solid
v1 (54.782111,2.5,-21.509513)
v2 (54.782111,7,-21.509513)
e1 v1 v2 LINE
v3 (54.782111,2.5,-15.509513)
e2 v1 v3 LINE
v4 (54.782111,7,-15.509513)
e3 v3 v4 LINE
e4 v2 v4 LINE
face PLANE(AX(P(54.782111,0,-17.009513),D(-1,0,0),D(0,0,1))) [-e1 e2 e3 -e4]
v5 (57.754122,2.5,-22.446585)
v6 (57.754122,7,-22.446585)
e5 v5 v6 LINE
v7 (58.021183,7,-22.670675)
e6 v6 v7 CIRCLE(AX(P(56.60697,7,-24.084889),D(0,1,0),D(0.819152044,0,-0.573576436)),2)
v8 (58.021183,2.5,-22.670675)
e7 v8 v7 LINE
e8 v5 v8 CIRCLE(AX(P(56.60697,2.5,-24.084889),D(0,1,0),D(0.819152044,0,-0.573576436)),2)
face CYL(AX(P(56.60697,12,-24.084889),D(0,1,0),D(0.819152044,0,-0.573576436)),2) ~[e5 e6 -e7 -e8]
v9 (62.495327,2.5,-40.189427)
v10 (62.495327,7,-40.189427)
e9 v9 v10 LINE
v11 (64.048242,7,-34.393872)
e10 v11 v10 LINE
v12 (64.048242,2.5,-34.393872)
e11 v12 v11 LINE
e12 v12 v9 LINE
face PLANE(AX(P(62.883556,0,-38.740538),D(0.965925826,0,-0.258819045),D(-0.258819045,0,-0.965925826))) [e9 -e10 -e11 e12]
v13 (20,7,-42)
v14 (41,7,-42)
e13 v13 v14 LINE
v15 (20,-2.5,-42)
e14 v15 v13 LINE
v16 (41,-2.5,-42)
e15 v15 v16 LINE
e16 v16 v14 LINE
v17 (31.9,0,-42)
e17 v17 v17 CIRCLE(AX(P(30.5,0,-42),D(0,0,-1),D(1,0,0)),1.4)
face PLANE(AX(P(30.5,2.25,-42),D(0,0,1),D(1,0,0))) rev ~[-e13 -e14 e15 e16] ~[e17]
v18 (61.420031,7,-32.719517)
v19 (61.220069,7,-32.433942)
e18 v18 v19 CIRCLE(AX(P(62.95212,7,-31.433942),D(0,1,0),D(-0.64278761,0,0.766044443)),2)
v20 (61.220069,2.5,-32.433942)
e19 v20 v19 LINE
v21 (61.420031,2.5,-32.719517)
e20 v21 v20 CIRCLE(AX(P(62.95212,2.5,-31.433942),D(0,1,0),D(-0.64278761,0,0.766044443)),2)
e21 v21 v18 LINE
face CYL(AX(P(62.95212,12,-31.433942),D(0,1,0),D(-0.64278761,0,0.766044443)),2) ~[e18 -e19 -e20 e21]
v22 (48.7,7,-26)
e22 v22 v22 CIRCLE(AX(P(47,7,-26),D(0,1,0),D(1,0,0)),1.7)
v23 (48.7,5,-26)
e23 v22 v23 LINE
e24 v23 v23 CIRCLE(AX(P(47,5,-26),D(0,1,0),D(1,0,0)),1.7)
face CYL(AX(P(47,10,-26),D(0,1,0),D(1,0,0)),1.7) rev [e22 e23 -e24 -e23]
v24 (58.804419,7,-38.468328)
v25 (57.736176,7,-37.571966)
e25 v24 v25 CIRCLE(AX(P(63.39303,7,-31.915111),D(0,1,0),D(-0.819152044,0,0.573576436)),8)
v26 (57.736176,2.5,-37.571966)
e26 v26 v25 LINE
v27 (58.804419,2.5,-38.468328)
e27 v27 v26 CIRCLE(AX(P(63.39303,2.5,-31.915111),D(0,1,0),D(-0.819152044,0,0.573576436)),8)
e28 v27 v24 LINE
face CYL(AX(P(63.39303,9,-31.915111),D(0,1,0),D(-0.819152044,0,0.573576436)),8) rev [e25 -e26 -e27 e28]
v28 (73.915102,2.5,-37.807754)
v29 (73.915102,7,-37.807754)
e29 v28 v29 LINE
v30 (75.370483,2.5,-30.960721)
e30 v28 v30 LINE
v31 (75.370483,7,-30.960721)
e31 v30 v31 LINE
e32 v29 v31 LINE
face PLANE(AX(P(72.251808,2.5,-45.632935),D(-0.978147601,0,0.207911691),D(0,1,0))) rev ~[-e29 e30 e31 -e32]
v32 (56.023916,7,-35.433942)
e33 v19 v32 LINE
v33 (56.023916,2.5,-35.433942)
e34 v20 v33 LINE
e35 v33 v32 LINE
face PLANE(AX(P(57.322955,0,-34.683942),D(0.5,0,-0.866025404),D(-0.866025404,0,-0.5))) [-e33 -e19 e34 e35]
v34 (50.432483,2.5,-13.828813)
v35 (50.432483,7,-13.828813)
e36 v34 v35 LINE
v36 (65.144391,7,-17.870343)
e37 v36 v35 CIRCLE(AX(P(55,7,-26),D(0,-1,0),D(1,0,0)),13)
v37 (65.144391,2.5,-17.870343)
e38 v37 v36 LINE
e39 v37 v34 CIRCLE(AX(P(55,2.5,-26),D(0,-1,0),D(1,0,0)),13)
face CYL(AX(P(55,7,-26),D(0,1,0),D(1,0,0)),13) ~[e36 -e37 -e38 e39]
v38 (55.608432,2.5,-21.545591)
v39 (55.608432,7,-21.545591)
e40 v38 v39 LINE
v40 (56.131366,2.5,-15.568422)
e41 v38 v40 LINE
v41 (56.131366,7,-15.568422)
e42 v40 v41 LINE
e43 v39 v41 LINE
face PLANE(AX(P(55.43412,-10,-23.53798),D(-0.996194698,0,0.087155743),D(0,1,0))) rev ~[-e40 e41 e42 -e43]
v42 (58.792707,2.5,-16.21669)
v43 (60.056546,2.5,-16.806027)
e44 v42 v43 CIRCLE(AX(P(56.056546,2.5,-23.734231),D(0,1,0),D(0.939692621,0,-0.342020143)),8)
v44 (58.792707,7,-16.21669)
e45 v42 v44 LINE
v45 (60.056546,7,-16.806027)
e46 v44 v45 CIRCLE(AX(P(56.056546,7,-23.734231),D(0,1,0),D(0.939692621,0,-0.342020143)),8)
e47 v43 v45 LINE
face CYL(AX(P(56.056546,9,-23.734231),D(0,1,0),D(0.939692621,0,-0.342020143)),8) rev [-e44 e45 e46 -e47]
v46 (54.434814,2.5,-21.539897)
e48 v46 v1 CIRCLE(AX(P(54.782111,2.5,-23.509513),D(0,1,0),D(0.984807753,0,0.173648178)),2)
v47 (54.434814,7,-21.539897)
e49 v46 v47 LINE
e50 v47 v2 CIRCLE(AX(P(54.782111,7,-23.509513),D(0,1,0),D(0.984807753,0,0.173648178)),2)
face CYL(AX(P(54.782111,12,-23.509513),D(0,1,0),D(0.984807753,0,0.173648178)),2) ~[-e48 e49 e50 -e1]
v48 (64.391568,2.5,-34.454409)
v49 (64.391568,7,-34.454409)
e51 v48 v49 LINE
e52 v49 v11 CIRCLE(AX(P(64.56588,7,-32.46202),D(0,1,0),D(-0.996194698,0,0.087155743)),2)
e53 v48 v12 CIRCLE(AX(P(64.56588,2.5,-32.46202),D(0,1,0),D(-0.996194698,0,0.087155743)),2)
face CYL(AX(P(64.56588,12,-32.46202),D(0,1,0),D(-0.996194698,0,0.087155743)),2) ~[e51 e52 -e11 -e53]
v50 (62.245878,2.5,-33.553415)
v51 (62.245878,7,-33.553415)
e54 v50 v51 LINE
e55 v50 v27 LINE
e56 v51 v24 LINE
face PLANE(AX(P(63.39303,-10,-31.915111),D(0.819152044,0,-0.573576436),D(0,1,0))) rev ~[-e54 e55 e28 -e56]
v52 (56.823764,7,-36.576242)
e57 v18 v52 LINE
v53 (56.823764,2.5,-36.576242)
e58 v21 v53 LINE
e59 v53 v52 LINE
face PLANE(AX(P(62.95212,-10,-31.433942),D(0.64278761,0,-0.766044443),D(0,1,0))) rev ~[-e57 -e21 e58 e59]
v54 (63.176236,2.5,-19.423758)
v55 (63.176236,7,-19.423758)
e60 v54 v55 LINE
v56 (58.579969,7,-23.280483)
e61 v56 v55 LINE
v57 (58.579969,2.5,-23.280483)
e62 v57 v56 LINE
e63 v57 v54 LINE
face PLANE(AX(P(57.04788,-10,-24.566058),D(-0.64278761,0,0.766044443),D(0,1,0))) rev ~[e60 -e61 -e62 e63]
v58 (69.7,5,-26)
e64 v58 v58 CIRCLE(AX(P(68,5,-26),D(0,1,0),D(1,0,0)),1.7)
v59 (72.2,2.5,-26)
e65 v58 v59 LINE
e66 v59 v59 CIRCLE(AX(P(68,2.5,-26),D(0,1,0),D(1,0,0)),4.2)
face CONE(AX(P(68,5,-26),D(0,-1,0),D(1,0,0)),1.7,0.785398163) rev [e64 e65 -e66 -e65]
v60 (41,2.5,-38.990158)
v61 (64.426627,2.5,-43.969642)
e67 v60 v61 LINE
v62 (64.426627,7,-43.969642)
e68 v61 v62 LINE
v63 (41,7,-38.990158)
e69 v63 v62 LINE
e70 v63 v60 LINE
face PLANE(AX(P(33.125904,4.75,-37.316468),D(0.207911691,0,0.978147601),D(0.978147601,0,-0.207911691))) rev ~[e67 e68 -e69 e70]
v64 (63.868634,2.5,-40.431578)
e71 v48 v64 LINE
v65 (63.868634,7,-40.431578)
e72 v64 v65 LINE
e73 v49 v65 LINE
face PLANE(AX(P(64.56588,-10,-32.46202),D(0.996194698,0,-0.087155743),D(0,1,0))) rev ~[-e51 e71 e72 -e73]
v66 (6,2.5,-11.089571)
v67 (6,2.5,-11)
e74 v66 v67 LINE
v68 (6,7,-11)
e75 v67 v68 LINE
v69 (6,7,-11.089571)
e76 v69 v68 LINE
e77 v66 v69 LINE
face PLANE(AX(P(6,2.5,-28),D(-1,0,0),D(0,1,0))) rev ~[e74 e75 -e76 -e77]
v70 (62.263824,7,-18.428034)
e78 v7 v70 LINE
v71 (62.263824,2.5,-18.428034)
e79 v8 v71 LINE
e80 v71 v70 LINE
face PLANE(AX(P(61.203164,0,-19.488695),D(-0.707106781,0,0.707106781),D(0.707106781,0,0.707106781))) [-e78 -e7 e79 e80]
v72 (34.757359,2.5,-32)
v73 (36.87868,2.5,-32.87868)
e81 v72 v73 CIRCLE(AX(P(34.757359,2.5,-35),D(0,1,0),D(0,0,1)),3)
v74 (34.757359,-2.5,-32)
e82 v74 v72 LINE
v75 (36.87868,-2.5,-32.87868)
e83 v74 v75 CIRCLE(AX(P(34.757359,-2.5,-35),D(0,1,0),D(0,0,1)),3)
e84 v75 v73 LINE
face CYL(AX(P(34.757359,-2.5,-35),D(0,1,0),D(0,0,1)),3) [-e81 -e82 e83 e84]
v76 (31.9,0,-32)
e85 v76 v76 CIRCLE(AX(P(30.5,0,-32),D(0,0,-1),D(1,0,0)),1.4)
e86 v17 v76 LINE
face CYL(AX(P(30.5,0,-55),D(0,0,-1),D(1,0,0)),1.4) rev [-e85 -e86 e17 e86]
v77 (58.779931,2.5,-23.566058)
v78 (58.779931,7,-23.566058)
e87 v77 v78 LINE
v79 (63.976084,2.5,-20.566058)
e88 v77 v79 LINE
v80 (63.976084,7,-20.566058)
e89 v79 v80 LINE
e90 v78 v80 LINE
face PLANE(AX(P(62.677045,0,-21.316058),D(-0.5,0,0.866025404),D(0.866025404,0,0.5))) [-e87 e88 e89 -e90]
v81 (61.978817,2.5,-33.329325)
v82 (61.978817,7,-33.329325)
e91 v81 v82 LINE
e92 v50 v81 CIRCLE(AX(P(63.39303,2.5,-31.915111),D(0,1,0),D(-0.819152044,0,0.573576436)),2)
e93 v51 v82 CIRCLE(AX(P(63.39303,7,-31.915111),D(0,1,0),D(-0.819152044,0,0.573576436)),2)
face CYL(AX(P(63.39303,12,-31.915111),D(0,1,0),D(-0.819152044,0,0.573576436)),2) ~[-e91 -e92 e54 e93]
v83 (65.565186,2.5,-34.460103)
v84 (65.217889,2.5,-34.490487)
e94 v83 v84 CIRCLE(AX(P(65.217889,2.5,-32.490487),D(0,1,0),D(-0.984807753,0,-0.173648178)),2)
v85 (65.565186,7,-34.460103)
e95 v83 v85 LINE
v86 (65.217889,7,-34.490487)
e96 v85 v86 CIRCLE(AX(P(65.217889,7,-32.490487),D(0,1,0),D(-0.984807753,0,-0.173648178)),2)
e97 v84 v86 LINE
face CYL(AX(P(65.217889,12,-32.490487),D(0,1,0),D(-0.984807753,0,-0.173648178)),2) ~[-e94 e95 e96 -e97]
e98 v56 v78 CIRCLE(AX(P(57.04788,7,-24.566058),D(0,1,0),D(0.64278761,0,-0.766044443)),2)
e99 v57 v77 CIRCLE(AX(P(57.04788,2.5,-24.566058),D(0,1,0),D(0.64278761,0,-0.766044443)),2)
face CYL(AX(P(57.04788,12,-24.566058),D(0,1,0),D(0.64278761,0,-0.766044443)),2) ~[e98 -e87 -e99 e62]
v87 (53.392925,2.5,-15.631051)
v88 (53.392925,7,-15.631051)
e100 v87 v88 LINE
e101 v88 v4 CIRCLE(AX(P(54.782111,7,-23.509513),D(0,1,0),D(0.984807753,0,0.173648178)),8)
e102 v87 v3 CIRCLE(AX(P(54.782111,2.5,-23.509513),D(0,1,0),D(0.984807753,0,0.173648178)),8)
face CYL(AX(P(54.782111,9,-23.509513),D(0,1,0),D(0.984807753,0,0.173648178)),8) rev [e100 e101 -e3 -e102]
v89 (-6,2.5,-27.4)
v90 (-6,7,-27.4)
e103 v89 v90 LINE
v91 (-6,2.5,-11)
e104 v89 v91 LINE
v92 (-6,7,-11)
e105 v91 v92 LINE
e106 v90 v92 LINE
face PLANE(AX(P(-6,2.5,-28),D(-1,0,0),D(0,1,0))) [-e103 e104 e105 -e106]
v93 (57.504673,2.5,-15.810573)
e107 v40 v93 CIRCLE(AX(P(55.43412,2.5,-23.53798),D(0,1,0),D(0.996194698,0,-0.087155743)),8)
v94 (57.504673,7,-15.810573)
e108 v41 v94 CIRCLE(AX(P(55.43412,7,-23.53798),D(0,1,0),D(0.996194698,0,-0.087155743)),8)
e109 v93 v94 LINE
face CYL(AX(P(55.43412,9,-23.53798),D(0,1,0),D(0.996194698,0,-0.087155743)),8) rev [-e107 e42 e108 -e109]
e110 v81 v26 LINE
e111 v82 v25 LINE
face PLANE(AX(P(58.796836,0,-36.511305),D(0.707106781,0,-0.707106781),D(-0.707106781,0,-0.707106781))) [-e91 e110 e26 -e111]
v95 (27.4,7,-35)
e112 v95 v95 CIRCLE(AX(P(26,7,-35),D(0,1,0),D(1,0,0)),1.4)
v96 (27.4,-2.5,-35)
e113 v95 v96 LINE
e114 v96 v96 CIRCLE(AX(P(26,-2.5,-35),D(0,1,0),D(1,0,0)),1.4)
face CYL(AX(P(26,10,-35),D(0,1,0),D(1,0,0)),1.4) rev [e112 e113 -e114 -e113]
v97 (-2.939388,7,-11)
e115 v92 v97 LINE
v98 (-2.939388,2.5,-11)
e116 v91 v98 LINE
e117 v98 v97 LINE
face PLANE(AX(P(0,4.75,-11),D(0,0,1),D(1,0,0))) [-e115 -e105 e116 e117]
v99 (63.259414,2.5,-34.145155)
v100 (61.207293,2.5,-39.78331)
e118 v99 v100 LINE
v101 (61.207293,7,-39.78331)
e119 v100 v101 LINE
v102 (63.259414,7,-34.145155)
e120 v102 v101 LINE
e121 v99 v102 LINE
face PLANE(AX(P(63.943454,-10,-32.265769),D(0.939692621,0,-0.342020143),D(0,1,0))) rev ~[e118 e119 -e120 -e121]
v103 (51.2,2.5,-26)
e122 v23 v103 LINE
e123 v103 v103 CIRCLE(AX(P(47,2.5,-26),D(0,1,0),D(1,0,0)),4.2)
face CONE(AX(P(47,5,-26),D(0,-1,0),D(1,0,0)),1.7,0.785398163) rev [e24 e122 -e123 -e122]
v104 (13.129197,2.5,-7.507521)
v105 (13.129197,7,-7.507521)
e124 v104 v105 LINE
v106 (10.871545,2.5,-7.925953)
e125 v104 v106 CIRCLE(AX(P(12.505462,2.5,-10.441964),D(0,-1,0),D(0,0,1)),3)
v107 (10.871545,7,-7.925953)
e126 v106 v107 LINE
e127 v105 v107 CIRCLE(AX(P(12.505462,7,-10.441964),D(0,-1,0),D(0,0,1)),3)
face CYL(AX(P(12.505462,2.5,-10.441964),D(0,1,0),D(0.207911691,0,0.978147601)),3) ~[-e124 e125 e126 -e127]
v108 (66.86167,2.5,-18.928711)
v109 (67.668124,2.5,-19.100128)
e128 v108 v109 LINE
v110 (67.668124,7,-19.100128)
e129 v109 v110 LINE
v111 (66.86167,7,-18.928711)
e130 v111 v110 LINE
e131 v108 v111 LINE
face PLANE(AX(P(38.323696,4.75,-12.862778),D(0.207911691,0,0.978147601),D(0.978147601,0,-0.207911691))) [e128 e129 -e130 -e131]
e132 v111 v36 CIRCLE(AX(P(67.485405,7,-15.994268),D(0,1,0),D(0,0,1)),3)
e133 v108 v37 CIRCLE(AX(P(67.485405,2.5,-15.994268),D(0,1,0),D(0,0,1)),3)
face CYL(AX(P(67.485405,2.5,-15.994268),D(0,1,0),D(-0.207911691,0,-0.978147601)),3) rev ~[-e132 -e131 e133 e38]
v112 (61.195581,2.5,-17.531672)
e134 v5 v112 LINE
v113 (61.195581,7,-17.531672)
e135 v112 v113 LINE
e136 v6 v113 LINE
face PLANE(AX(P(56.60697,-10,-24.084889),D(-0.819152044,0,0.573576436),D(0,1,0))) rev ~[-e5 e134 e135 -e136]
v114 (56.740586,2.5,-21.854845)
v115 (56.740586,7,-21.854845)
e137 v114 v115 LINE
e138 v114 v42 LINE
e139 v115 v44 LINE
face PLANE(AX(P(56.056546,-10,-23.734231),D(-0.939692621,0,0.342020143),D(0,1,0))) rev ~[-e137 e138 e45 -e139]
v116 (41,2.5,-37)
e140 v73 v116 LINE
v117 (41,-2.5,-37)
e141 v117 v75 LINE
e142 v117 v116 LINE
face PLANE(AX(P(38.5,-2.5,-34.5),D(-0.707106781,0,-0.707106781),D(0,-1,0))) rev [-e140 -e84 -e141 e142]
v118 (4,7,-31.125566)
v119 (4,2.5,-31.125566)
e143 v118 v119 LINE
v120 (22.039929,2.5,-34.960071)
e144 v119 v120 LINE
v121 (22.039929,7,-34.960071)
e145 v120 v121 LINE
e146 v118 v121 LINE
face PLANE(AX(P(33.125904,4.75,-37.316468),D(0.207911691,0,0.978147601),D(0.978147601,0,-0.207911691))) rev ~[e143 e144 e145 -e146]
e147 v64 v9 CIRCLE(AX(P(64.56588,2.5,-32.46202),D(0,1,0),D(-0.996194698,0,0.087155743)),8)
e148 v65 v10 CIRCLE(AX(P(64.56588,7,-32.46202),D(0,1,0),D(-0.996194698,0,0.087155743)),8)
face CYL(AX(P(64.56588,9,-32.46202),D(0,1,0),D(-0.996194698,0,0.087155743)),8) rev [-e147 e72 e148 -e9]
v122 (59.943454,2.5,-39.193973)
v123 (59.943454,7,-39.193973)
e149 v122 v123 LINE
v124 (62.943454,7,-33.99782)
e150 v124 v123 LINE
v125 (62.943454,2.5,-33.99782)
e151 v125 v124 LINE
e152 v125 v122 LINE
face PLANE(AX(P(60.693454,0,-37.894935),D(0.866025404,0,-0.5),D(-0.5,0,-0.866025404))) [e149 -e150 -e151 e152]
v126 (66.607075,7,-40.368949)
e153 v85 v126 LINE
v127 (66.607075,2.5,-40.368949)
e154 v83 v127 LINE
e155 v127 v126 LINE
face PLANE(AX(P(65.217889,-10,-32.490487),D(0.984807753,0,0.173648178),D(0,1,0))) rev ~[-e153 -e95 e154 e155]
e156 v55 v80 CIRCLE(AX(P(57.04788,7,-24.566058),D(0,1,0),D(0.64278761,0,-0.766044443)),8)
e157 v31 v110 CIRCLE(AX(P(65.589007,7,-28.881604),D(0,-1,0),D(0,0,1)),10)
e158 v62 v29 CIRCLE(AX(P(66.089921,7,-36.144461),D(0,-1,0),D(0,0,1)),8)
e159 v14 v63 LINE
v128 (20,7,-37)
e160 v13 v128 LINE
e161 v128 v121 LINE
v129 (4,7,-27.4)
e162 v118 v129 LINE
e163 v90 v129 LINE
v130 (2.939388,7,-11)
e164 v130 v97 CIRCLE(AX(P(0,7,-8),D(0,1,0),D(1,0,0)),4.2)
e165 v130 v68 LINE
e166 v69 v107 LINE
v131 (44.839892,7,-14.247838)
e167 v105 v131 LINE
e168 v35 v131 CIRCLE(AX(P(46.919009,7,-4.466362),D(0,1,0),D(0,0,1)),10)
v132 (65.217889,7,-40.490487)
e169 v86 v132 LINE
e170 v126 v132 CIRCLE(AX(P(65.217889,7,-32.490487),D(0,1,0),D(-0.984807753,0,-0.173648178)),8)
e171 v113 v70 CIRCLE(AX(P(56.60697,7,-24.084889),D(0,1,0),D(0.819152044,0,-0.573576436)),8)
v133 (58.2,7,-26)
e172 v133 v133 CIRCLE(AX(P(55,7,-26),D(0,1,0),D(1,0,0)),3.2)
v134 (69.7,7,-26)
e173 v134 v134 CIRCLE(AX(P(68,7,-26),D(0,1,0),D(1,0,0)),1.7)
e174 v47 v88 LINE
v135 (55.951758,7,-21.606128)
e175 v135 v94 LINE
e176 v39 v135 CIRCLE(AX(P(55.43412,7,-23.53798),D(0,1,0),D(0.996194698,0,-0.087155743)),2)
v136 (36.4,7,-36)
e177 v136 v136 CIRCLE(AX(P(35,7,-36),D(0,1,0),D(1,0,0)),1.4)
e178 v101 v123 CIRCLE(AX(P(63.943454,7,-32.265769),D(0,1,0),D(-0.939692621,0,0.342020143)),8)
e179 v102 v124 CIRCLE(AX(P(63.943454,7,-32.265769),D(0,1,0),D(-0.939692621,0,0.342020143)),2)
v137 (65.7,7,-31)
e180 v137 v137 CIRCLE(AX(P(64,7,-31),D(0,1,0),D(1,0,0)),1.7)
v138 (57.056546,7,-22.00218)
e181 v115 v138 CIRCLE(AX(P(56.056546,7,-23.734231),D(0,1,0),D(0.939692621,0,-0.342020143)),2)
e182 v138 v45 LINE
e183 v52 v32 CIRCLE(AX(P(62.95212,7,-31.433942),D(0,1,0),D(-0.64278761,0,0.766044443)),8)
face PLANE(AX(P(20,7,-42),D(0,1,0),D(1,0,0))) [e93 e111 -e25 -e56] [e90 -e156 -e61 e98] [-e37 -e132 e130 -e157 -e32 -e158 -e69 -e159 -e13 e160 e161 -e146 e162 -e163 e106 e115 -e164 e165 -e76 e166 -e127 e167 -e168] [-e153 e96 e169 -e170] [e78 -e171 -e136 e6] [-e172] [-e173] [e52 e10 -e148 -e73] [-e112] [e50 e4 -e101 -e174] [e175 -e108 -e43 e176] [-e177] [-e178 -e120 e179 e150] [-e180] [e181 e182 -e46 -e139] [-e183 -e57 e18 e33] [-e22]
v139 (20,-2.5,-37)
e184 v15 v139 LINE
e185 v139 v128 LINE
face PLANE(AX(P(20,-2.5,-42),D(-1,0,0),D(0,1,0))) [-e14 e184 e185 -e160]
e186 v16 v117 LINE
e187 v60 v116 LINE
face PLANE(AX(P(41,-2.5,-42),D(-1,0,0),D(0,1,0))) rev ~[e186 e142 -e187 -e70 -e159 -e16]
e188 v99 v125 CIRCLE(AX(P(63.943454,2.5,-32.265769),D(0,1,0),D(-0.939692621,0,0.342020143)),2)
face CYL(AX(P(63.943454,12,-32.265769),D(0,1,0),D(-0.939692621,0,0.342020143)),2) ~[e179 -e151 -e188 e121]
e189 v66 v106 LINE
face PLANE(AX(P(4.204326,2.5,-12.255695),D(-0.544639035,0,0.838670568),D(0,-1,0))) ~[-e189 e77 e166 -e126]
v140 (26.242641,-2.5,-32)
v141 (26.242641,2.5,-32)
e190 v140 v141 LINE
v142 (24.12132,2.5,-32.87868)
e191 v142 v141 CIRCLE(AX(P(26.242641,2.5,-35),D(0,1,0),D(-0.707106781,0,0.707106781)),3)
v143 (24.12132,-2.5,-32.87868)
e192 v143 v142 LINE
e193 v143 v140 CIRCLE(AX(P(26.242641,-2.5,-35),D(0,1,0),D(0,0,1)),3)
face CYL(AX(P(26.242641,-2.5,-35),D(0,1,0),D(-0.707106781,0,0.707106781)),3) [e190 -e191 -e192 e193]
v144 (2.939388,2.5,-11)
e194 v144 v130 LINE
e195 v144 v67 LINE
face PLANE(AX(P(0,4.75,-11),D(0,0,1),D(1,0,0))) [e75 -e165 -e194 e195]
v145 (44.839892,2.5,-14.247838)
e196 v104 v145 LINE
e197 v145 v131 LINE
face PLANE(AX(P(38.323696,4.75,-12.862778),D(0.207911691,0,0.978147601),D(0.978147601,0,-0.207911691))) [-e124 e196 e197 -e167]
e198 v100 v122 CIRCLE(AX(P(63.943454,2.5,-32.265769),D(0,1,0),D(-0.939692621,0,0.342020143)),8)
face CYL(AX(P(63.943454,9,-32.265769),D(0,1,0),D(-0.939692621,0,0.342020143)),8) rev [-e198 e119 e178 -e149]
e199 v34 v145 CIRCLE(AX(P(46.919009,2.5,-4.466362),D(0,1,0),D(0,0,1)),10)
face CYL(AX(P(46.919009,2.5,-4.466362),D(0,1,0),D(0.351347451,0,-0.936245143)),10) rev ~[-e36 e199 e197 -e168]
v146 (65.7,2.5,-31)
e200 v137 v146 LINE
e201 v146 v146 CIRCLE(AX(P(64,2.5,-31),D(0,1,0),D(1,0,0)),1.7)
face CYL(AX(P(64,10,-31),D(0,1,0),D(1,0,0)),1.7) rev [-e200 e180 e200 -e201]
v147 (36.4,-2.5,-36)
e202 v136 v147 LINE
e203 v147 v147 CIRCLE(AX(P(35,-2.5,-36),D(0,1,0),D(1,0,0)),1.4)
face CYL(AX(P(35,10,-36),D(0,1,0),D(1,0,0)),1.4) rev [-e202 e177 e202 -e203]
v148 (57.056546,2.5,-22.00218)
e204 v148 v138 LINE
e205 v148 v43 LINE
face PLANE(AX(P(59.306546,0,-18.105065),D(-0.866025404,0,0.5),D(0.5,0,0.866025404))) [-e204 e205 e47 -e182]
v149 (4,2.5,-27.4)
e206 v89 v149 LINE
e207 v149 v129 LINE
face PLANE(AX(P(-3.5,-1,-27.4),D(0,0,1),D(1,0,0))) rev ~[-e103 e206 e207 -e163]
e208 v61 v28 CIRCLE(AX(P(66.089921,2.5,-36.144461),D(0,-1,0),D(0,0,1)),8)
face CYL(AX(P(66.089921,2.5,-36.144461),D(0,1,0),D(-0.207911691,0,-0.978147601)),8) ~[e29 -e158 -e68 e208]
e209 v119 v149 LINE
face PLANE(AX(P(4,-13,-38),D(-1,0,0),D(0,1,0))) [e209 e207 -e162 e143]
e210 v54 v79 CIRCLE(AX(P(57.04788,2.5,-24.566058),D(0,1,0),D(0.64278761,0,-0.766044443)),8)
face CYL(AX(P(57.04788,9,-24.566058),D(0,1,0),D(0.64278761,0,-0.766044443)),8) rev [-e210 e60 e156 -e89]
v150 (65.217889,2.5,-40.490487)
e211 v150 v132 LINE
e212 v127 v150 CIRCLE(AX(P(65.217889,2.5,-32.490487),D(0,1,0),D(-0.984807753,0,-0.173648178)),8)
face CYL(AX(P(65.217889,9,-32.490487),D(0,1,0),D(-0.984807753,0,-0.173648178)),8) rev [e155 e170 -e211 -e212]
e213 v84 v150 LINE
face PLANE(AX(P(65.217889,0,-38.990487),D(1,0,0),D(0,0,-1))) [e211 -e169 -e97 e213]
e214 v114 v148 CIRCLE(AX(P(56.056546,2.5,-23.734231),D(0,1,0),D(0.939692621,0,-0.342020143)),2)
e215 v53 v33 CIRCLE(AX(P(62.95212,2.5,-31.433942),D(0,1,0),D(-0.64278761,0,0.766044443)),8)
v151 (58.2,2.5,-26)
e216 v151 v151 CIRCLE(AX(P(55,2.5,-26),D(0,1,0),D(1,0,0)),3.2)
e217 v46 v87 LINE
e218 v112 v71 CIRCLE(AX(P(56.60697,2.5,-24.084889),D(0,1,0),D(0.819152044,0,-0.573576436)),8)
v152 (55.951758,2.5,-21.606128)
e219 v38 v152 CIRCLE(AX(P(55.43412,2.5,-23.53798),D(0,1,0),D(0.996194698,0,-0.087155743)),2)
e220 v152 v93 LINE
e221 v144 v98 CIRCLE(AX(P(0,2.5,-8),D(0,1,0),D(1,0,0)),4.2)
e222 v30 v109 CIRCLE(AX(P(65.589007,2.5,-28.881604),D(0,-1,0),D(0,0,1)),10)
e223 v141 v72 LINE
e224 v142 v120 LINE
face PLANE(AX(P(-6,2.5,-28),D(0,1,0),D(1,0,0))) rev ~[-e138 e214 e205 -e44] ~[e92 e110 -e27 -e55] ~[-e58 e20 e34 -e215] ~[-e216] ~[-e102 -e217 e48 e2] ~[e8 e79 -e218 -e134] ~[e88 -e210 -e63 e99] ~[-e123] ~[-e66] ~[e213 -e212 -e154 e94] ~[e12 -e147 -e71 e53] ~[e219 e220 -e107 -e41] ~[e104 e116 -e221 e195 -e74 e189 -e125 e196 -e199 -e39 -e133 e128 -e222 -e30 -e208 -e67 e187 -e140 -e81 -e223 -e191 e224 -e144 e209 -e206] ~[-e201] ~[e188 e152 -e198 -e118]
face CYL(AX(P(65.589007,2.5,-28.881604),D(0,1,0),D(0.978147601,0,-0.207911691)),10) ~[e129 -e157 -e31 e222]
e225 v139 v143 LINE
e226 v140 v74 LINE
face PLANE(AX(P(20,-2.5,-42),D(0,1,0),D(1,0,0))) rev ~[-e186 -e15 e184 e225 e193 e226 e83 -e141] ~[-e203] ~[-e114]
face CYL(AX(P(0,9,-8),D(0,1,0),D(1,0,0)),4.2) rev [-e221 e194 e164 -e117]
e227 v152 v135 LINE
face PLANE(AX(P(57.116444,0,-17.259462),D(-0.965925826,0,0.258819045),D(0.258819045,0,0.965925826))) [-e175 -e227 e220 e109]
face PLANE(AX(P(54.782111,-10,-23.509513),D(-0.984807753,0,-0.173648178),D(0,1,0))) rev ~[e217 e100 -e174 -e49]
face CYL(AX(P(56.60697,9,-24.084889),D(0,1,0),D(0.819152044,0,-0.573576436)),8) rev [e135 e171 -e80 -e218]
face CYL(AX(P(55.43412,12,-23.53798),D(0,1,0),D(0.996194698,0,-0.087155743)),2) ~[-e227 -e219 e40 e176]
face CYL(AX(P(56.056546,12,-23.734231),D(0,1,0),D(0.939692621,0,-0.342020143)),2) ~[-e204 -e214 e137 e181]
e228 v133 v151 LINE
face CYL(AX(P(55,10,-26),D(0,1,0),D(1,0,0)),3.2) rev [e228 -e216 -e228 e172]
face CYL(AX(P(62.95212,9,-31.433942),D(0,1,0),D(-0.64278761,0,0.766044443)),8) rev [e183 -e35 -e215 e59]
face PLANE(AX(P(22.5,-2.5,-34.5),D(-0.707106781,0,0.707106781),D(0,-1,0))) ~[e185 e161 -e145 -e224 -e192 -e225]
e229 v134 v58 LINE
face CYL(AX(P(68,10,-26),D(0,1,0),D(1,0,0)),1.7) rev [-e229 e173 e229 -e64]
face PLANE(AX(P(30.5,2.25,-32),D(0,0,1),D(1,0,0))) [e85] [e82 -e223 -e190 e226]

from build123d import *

# Parameters (mm, degrees)
CYLINDER088_R                = 1.4
CYLINDER088_DEPTH            = 20
CYLINDER088_ROLL_ANGLE       = 90
CYLINDER089_R                = 1.4
CYLINDER089_DEPTH            = 30
CYLINDER087_R                = 1.4
CYLINDER087_DEPTH            = 20
CYLINDER087_ROLL_ANGLE       = 90
BOX001027025_W               = 21
BOX001027025_H               = 9.5
BOX001027025_DEPTH           = 10
CHAMFER007_SIZE              = 5
FILLET013_R                  = 3
CYLINDER085_R                = 1.7
CYLINDER085_DEPTH            = 10
CYLINDER085_ROLL_ANGLE       = 90
CYLINDER084_R                = 1.7
CYLINDER084_DEPTH            = 10
CYLINDER084_ROLL_ANGLE       = 90
CYLINDER086_R                = 4.2
CYLINDER086_DEPTH            = 18
CYLINDER086_ROLL_ANGLE       = 90
BOX001027021_W               = 15
BOX001027021_H               = 24
BOX001027021_DEPTH           = 10.6
BOX001027029_W               = 2
BOX001027029_H               = 20
BOX001027029_DEPTH           = 13
CYLINDER094_R                = 2
CYLINDER094_DEPTH            = 26
CYLINDER094_ROLL_ANGLE       = 90
CYLINDER095_R                = 8
CYLINDER095_DEPTH            = 18
CYLINDER095_ROLL_ANGLE       = 90
BOX001027028_W               = 13
BOX001027028_H               = 20
BOX001027028_DEPTH           = 2
BOX001027028_PLACEMENT_ANGLE = 80
COMMON039_PITCH_ANGLE        = 10
COMMON040_PLACEMENT_ANGLE    = 25
COMMON041_PITCH_ANGLE        = -20
COMMON042_PITCH_ANGLE        = -35
COMMON038_PITCH_ANGLE        = -5
FUSION094_PLACEMENT_ANGLE    = 205
CYLINDER091_R                = 1.7
CYLINDER091_DEPTH            = 20
CYLINDER091_ROLL_ANGLE       = 90
CYLINDER090_R                = 3.2
CYLINDER090_DEPTH            = 20
CYLINDER090_ROLL_ANGLE       = 90
BOX001027027_W               = 2
BOX001027027_H               = 20
BOX001027027_DEPTH           = 13
CYLINDER092_R                = 2
CYLINDER092_DEPTH            = 26
CYLINDER092_ROLL_ANGLE       = 90
CYLINDER093_R                = 8
CYLINDER093_DEPTH            = 18
CYLINDER093_ROLL_ANGLE       = 90
BOX001027026_W               = 13
BOX001027026_H               = 20
BOX001027026_DEPTH           = 2
BOX001027026_PLACEMENT_ANGLE = 80
COMMON034_PITCH_ANGLE        = 10
COMMON035_PLACEMENT_ANGLE    = 25
COMMON036_PITCH_ANGLE        = -20
COMMON037_PITCH_ANGLE        = -35
COMMON033_PITCH_ANGLE        = -5
FUSION093_PLACEMENT_ANGLE    = 25
BOX001027024_W               = 80
BOX001027024_H               = 4.5
BOX001027024_DEPTH           = 25
BOX001027024_PITCH_ANGLE     = 12
CHAMFER006_SIZE              = 13
BOX001027022_W               = 12
BOX001027022_H               = 4.5
BOX001027022_DEPTH           = 17
CYLINDER096_R                = 13
CYLINDER096_DEPTH            = 4.5
CYLINDER096_ROLL_ANGLE       = 90
FILLET014_R                  = 8
FILLET015_R                  = 10
FILLET016_R                  = 3
FILLET017_R                  = 10
FILLET018_R                  = 3
CHAMFER009_SIZE              = 2.5


with BuildPart() as cylinder088:
    # Cylinder088 → Cylinder088 (new body)
    with BuildSketch(Plane.XY):
        Circle(CYLINDER088_R)
    extrude(amount=CYLINDER088_DEPTH)


with BuildPart() as cylinder088_1:
    # Cylinder088 roll: moved
    add(cylinder088.part.rotate(Axis((0, 0, 0), (1, 0, 0)), CYLINDER088_ROLL_ANGLE))


with BuildPart() as cylinder088_2:
    # Cylinder088 placement: moved
    add(cylinder088_1.part.moved(Location((26, 10, -35))))


with BuildPart() as cylinder089:
    # Cylinder089 → Cylinder089 (new body)
    with BuildSketch(Plane(origin=(30.5, 0, -55), x_dir=(1, 0, 0), z_dir=(0, 0, 1))):
        Circle(CYLINDER089_R)
    extrude(amount=CYLINDER089_DEPTH)


with BuildPart() as base_block_holes:
    # Cylinder087 → Cylinder087 (new body)
    with BuildSketch(Plane.XY):
        Circle(CYLINDER087_R)
    extrude(amount=CYLINDER087_DEPTH)


with BuildPart() as base_block_holes_1:
    # Cylinder087 roll: moved
    add(base_block_holes.part.rotate(Axis((0, 0, 0), (1, 0, 0)), CYLINDER087_ROLL_ANGLE))


with BuildPart() as base_block_holes_2:
    # Cylinder087 placement: moved
    add(base_block_holes_1.part.moved(Location((35, 10, -36))))

    # Fusion105: union Cylinder088, Cylinder089
    add(cylinder088_2.part)
    add(cylinder089.part)


with BuildPart() as fillet013:
    # Box001027025 → Box001027025 (new body)
    with BuildSketch(Plane(origin=(20, -2.5, -42), x_dir=(1, 0, 0), z_dir=(0, 0, 1))):
        with Locations((10.5, 4.75)):
            Rectangle(BOX001027025_W, BOX001027025_H)
    extrude(amount=BOX001027025_DEPTH)

    # Chamfer007
    chamfer007_edges = [fillet013.edges().sort_by_distance(p)[0] for p in [
        (20, 2.25, -32),
        (41, 2.25, -32),
    ]]
    chamfer(chamfer007_edges, length=CHAMFER007_SIZE)

    # Fillet013
    fillet013_edges = [fillet013.edges().sort_by_distance(p)[0] for p in [
        (25, 2.25, -32),
        (36, 2.25, -32),
    ]]
    fillet(fillet013_edges, radius=FILLET013_R)


with BuildPart() as cylinder160:
    # Cylinder085 → Cylinder085 (new body)
    with BuildSketch(Plane.XY):
        Circle(CYLINDER085_R)
    extrude(amount=CYLINDER085_DEPTH)


with BuildPart() as cylinder160_1:
    # Cylinder085 roll: moved
    add(cylinder160.part.rotate(Axis((0, 0, 0), (1, 0, 0)), CYLINDER085_ROLL_ANGLE))


with BuildPart() as cylinder160_2:
    # Cylinder085 placement: moved
    add(cylinder160_1.part.moved(Location((47, 10, -26))))


with BuildPart() as mounting_holes001:
    # Cylinder084 → Cylinder084 (new body)
    with BuildSketch(Plane.XY):
        Circle(CYLINDER084_R)
    extrude(amount=CYLINDER084_DEPTH)


with BuildPart() as mounting_holes001_1:
    # Cylinder084 roll: moved
    add(mounting_holes001.part.rotate(Axis((0, 0, 0), (1, 0, 0)), CYLINDER084_ROLL_ANGLE))


with BuildPart() as mounting_holes001_2:
    # Cylinder084 placement: moved
    add(mounting_holes001_1.part.moved(Location((68, 10, -26))))

    # Fusion096: union Cylinder160
    add(cylinder160_2.part)


with BuildPart() as cylinder086:
    # Cylinder086 → Cylinder086 (new body)
    with BuildSketch(Plane.XY):
        Circle(CYLINDER086_R)
    extrude(amount=CYLINDER086_DEPTH)


with BuildPart() as cylinder086_1:
    # Cylinder086 roll: moved
    add(cylinder086.part.rotate(Axis((0, 0, 0), (1, 0, 0)), CYLINDER086_ROLL_ANGLE))


with BuildPart() as cylinder086_2:
    # Cylinder086 placement: moved
    add(cylinder086_1.part.moved(Location((0, 9, -8))))


with BuildPart() as cube041:
    # Box001027021 → Box001027021 (new body)
    with BuildSketch(Plane(origin=(-11, -13, -38), x_dir=(1, 0, 0), z_dir=(0, 0, 1))):
        with Locations((7.5, 12)):
            Rectangle(BOX001027021_W, BOX001027021_H)
    extrude(amount=BOX001027021_DEPTH)


with BuildPart() as cube049:
    # Box001027029 → Box001027029 (new body)
    with BuildSketch(Plane(origin=(0, -10, 0), x_dir=(1, 0, 0), z_dir=(0, 0, 1))):
        with Locations((1, 10)):
            Rectangle(BOX001027029_W, BOX001027029_H)
    extrude(amount=BOX001027029_DEPTH)


with BuildPart() as cylinder161:
    # Cylinder094 → Cylinder094 (new body)
    with BuildSketch(Plane.XY):
        Circle(CYLINDER094_R)
    extrude(amount=CYLINDER094_DEPTH)


with BuildPart() as cylinder161_1:
    # Cylinder094 roll: moved
    add(cylinder161.part.rotate(Axis((0, 0, 0), (1, 0, 0)), CYLINDER094_ROLL_ANGLE))


with BuildPart() as cylinder161_2:
    # Cylinder094 placement: moved
    add(cylinder161_1.part.moved(Location((0, 12, 0))))


with BuildPart() as cut049:
    # Cylinder095 → Cylinder095 (new body)
    with BuildSketch(Plane.XY):
        Circle(CYLINDER095_R)
    extrude(amount=CYLINDER095_DEPTH)


with BuildPart() as cut049_1:
    # Cylinder095 roll: moved
    add(cut049.part.rotate(Axis((0, 0, 0), (1, 0, 0)), CYLINDER095_ROLL_ANGLE))


with BuildPart() as cut049_2:
    # Cylinder095 placement: moved
    add(cut049_1.part.moved(Location((0, 9, 0))))

    # Cut049: cut Cylinder161
    add(cylinder161_2.part, mode=Mode.SUBTRACT)


with BuildPart() as cube048:
    # Box001027028 → Box001027028 (new body)
    with BuildSketch(Plane.XY):
        with Locations((6.5, 10)):
            Rectangle(BOX001027028_W, BOX001027028_H)
    extrude(amount=BOX001027028_DEPTH)


with BuildPart() as cube048_1:
    # Box001027028 placement: moved
    add(cube048.part.moved(Location((0, -10, 0))).rotate(Axis((0, -10, 0), (0, -1, 0)), BOX001027028_PLACEMENT_ANGLE))


with BuildPart() as common039:
    # Common039 base: copy of Cube048
    add(cube048_1.part)

    # Common039: intersect Cube049, Cut049
    add(cube049.part, mode=Mode.INTERSECT)
    add(cut049_2.part, mode=Mode.INTERSECT)


with BuildPart() as common039_1:
    # Common039 pitch: moved
    add(common039.part.rotate(Axis((0, 0, 0), (0, 1, 0)), COMMON039_PITCH_ANGLE))


with BuildPart() as common039_2:
    # Common039 placement: moved
    add(common039_1.part.moved(Location((0.647048, 0, 2.414815))))


with BuildPart() as common040:
    # Common040 base: copy of Cube048
    add(cube048_1.part)

    # Common040: intersect Cube049, Cut049
    add(cube049.part, mode=Mode.INTERSECT)
    add(cut049_2.part, mode=Mode.INTERSECT)


with BuildPart() as common040_1:
    # Common040 placement: moved
    add(common040.part.moved(Location((1.25, 0, 2.165064))).rotate(Axis((1.25, 0, 2.165064), (0, 1, 0)), COMMON040_PLACEMENT_ANGLE))


with BuildPart() as common041:
    # Common041 base: copy of Cube048
    add(cube048_1.part)

    # Common041: intersect Cube049, Cut049
    add(cube049.part, mode=Mode.INTERSECT)
    add(cut049_2.part, mode=Mode.INTERSECT)


with BuildPart() as common041_1:
    # Common041 pitch: moved
    add(common041.part.rotate(Axis((0, 0, 0), (0, 1, 0)), COMMON041_PITCH_ANGLE))


with BuildPart() as common041_2:
    # Common041 placement: moved
    add(common041_1.part.moved(Location((-0.647048, 0, 2.414815))))


with BuildPart() as common042:
    # Common042 base: copy of Cube048
    add(cube048_1.part)

    # Common042: intersect Cube049, Cut049
    add(cube049.part, mode=Mode.INTERSECT)
    add(cut049_2.part, mode=Mode.INTERSECT)


with BuildPart() as common042_1:
    # Common042 pitch: moved
    add(common042.part.rotate(Axis((0, 0, 0), (0, 1, 0)), COMMON042_PITCH_ANGLE))


with BuildPart() as common042_2:
    # Common042 placement: moved
    add(common042_1.part.moved(Location((-1.25, 0, 2.165064))))


with BuildPart() as strength_slots009:
    # Common038 base: copy of Cube048
    add(cube048_1.part)

    # Common038: intersect Cube049, Cut049
    add(cube049.part, mode=Mode.INTERSECT)
    add(cut049_2.part, mode=Mode.INTERSECT)


with BuildPart() as strength_slots009_1:
    # Common038 pitch: moved
    add(strength_slots009.part.rotate(Axis((0, 0, 0), (0, 1, 0)), COMMON038_PITCH_ANGLE))


with BuildPart() as strength_slots009_2:
    # Common038 placement: moved
    add(strength_slots009_1.part.moved(Location((0, 0, 2.5))))

    # Fusion094: union Common039, Common040, Common041, Common042
    add(common039_2.part)
    add(common040_1.part)
    add(common041_2.part)
    add(common042_2.part)


with BuildPart() as strength_slots009_3:
    # Fusion094 placement: moved
    add(strength_slots009_2.part.moved(Location((65, 0, -30))).rotate(Axis((65, 0, -30), (0, 1, 0)), FUSION094_PLACEMENT_ANGLE))


with BuildPart() as cylinder091:
    # Cylinder091 → Cylinder091 (new body)
    with BuildSketch(Plane.XY):
        Circle(CYLINDER091_R)
    extrude(amount=CYLINDER091_DEPTH)


with BuildPart() as cylinder091_1:
    # Cylinder091 roll: moved
    add(cylinder091.part.rotate(Axis((0, 0, 0), (1, 0, 0)), CYLINDER091_ROLL_ANGLE))


with BuildPart() as cylinder091_2:
    # Cylinder091 placement: moved
    add(cylinder091_1.part.moved(Location((64, 10, -31))))


with BuildPart() as cylinder090:
    # Cylinder090 → Cylinder090 (new body)
    with BuildSketch(Plane.XY):
        Circle(CYLINDER090_R)
    extrude(amount=CYLINDER090_DEPTH)


with BuildPart() as cylinder090_1:
    # Cylinder090 roll: moved
    add(cylinder090.part.rotate(Axis((0, 0, 0), (1, 0, 0)), CYLINDER090_ROLL_ANGLE))


with BuildPart() as cylinder090_2:
    # Cylinder090 placement: moved
    add(cylinder090_1.part.moved(Location((55, 10, -26))))


with BuildPart() as cube047:
    # Box001027027 → Box001027027 (new body)
    with BuildSketch(Plane(origin=(0, -10, 0), x_dir=(1, 0, 0), z_dir=(0, 0, 1))):
        with Locations((1, 10)):
            Rectangle(BOX001027027_W, BOX001027027_H)
    extrude(amount=BOX001027027_DEPTH)


with BuildPart() as cylinder092:
    # Cylinder092 → Cylinder092 (new body)
    with BuildSketch(Plane.XY):
        Circle(CYLINDER092_R)
    extrude(amount=CYLINDER092_DEPTH)


with BuildPart() as cylinder092_1:
    # Cylinder092 roll: moved
    add(cylinder092.part.rotate(Axis((0, 0, 0), (1, 0, 0)), CYLINDER092_ROLL_ANGLE))


with BuildPart() as cylinder092_2:
    # Cylinder092 placement: moved
    add(cylinder092_1.part.moved(Location((0, 12, 0))))


with BuildPart() as cut048:
    # Cylinder093 → Cylinder093 (new body)
    with BuildSketch(Plane.XY):
        Circle(CYLINDER093_R)
    extrude(amount=CYLINDER093_DEPTH)


with BuildPart() as cut048_1:
    # Cylinder093 roll: moved
    add(cut048.part.rotate(Axis((0, 0, 0), (1, 0, 0)), CYLINDER093_ROLL_ANGLE))


with BuildPart() as cut048_2:
    # Cylinder093 placement: moved
    add(cut048_1.part.moved(Location((0, 9, 0))))

    # Cut048: cut Cylinder092
    add(cylinder092_2.part, mode=Mode.SUBTRACT)


with BuildPart() as cube046:
    # Box001027026 → Box001027026 (new body)
    with BuildSketch(Plane.XY):
        with Locations((6.5, 10)):
            Rectangle(BOX001027026_W, BOX001027026_H)
    extrude(amount=BOX001027026_DEPTH)


with BuildPart() as cube046_1:
    # Box001027026 placement: moved
    add(cube046.part.moved(Location((0, -10, 0))).rotate(Axis((0, -10, 0), (0, -1, 0)), BOX001027026_PLACEMENT_ANGLE))


with BuildPart() as common034:
    # Common034 base: copy of Cube046
    add(cube046_1.part)

    # Common034: intersect Cube047, Cut048
    add(cube047.part, mode=Mode.INTERSECT)
    add(cut048_2.part, mode=Mode.INTERSECT)


with BuildPart() as common034_1:
    # Common034 pitch: moved
    add(common034.part.rotate(Axis((0, 0, 0), (0, 1, 0)), COMMON034_PITCH_ANGLE))


with BuildPart() as common034_2:
    # Common034 placement: moved
    add(common034_1.part.moved(Location((0.647048, 0, 2.414815))))


with BuildPart() as common035:
    # Common035 base: copy of Cube046
    add(cube046_1.part)

    # Common035: intersect Cube047, Cut048
    add(cube047.part, mode=Mode.INTERSECT)
    add(cut048_2.part, mode=Mode.INTERSECT)


with BuildPart() as common035_1:
    # Common035 placement: moved
    add(common035.part.moved(Location((1.25, 0, 2.165064))).rotate(Axis((1.25, 0, 2.165064), (0, 1, 0)), COMMON035_PLACEMENT_ANGLE))


with BuildPart() as common036:
    # Common036 base: copy of Cube046
    add(cube046_1.part)

    # Common036: intersect Cube047, Cut048
    add(cube047.part, mode=Mode.INTERSECT)
    add(cut048_2.part, mode=Mode.INTERSECT)


with BuildPart() as common036_1:
    # Common036 pitch: moved
    add(common036.part.rotate(Axis((0, 0, 0), (0, 1, 0)), COMMON036_PITCH_ANGLE))


with BuildPart() as common036_2:
    # Common036 placement: moved
    add(common036_1.part.moved(Location((-0.647048, 0, 2.414815))))


with BuildPart() as common037:
    # Common037 base: copy of Cube046
    add(cube046_1.part)

    # Common037: intersect Cube047, Cut048
    add(cube047.part, mode=Mode.INTERSECT)
    add(cut048_2.part, mode=Mode.INTERSECT)


with BuildPart() as common037_1:
    # Common037 pitch: moved
    add(common037.part.rotate(Axis((0, 0, 0), (0, 1, 0)), COMMON037_PITCH_ANGLE))


with BuildPart() as common037_2:
    # Common037 placement: moved
    add(common037_1.part.moved(Location((-1.25, 0, 2.165064))))


with BuildPart() as common_holes:
    # Common033 base: copy of Cube046
    add(cube046_1.part)

    # Common033: intersect Cube047, Cut048
    add(cube047.part, mode=Mode.INTERSECT)
    add(cut048_2.part, mode=Mode.INTERSECT)


with BuildPart() as common_holes_1:
    # Common033 pitch: moved
    add(common_holes.part.rotate(Axis((0, 0, 0), (0, 1, 0)), COMMON033_PITCH_ANGLE))


with BuildPart() as common_holes_2:
    # Common033 placement: moved
    add(common_holes_1.part.moved(Location((0, 0, 2.5))))

    # Fusion093: union Common034, Common035, Common036, Common037
    add(common034_2.part)
    add(common035_1.part)
    add(common036_2.part)
    add(common037_2.part)


with BuildPart() as common_holes_3:
    # Fusion093 placement: moved
    add(common_holes_2.part.moved(Location((55, 0, -26))).rotate(Axis((55, 0, -26), (0, 1, 0)), FUSION093_PLACEMENT_ANGLE))

    # Fusion097: union strength-slots009, Cylinder091, Cylinder090
    add(strength_slots009_3.part)
    add(cylinder091_2.part)
    add(cylinder090_2.part)

    # Fusion098: union Cube041
    add(cube041.part)


with BuildPart() as chamfer006:
    # Box001027024 → Box001027024 (new body)
    with BuildSketch(Plane.XY):
        with Locations((40, 2.25)):
            Rectangle(BOX001027024_W, BOX001027024_H)
    extrude(amount=BOX001027024_DEPTH)


with BuildPart() as chamfer006_1:
    # Box001027024 pitch: moved
    add(chamfer006.part.rotate(Axis((0, 0, 0), (0, 1, 0)), BOX001027024_PITCH_ANGLE))


with BuildPart() as chamfer006_2:
    # Box001027024 placement: moved
    add(chamfer006_1.part.moved(Location((-6, 2.5, -29))))

    # Chamfer006
    chamfer006_edges = [chamfer006_2.edges().sort_by_distance(p)[0] for p in [
        (-0.802208, 4.75, -4.54631),
    ]]
    chamfer(chamfer006_edges, length=CHAMFER006_SIZE)


with BuildPart() as cube042:
    # Box001027022 → Box001027022 (new body)
    with BuildSketch(Plane(origin=(-6, 2.5, -28), x_dir=(1, 0, 0), z_dir=(0, 0, 1))):
        with Locations((6, 2.25)):
            Rectangle(BOX001027022_W, BOX001027022_H)
    extrude(amount=BOX001027022_DEPTH)


with BuildPart() as cut_holder_base:
    # Cylinder096 → Cylinder096 (new body)
    with BuildSketch(Plane.XY):
        Circle(CYLINDER096_R)
    extrude(amount=CYLINDER096_DEPTH)


with BuildPart() as cut_holder_base_1:
    # Cylinder096 roll: moved
    add(cut_holder_base.part.rotate(Axis((0, 0, 0), (1, 0, 0)), CYLINDER096_ROLL_ANGLE))


with BuildPart() as cut_holder_base_2:
    # Cylinder096 placement: moved
    add(cut_holder_base_1.part.moved(Location((55, 7, -26))))

    # Fusion095: union Chamfer006, Cube042
    add(chamfer006_2.part)
    add(cube042.part)

    # Cut050: cut common-holes
    add(common_holes_3.part, mode=Mode.SUBTRACT)

    # Cut051: cut Cylinder086
    add(cylinder086_2.part, mode=Mode.SUBTRACT)

    # Fillet014
    fillet014_edges = [cut_holder_base_2.edges().sort_by_distance(p)[0] for p in [
        (72.251808, 4.75, -45.632935),
    ]]
    fillet(fillet014_edges, radius=FILLET014_R)

    # Fillet015
    fillet015_edges = [cut_holder_base_2.edges().sort_by_distance(p)[0] for p in [
        (77.4496, 4.75, -21.179245),
    ]]
    fillet(fillet015_edges, radius=FILLET015_R)

    # Fillet016
    fillet016_edges = [cut_holder_base_2.edges().sort_by_distance(p)[0] for p in [
        (65.751998, 4.75, -18.692843),
    ]]
    fillet(fillet016_edges, radius=FILLET016_R)

    # Fillet017
    fillet017_edges = [cut_holder_base_2.edges().sort_by_distance(p)[0] for p in [
        (48.14965, 4.75, -14.951348),
    ]]
    fillet(fillet017_edges, radius=FILLET017_R)

    # Fillet018
    fillet018_edges = [cut_holder_base_2.edges().sort_by_distance(p)[0] for p in [
        (11.913711, 4.75, -7.249162),
    ]]
    fillet(fillet018_edges, radius=FILLET018_R)

    # Cut056: cut mounting-holes001
    add(mounting_holes001_2.part, mode=Mode.SUBTRACT)

    # Chamfer009
    chamfer009_edges = [cut_holder_base_2.edges().sort_by_distance(p)[0] for p in [
        (69.162118, 2.5, -24.759242),
        (69.162118, 2.5, -27.240758),
        (66.3, 2.5, -26),
        (45.3, 2.5, -26),
    ]]
    chamfer(chamfer009_edges, length=CHAMFER009_SIZE)

    # Fusion104: union Fillet013
    add(fillet013.part)

    # Cut057: cut base-block-holes
    add(base_block_holes_2.part, mode=Mode.SUBTRACT)


solid = cut_holder_base_2.part
